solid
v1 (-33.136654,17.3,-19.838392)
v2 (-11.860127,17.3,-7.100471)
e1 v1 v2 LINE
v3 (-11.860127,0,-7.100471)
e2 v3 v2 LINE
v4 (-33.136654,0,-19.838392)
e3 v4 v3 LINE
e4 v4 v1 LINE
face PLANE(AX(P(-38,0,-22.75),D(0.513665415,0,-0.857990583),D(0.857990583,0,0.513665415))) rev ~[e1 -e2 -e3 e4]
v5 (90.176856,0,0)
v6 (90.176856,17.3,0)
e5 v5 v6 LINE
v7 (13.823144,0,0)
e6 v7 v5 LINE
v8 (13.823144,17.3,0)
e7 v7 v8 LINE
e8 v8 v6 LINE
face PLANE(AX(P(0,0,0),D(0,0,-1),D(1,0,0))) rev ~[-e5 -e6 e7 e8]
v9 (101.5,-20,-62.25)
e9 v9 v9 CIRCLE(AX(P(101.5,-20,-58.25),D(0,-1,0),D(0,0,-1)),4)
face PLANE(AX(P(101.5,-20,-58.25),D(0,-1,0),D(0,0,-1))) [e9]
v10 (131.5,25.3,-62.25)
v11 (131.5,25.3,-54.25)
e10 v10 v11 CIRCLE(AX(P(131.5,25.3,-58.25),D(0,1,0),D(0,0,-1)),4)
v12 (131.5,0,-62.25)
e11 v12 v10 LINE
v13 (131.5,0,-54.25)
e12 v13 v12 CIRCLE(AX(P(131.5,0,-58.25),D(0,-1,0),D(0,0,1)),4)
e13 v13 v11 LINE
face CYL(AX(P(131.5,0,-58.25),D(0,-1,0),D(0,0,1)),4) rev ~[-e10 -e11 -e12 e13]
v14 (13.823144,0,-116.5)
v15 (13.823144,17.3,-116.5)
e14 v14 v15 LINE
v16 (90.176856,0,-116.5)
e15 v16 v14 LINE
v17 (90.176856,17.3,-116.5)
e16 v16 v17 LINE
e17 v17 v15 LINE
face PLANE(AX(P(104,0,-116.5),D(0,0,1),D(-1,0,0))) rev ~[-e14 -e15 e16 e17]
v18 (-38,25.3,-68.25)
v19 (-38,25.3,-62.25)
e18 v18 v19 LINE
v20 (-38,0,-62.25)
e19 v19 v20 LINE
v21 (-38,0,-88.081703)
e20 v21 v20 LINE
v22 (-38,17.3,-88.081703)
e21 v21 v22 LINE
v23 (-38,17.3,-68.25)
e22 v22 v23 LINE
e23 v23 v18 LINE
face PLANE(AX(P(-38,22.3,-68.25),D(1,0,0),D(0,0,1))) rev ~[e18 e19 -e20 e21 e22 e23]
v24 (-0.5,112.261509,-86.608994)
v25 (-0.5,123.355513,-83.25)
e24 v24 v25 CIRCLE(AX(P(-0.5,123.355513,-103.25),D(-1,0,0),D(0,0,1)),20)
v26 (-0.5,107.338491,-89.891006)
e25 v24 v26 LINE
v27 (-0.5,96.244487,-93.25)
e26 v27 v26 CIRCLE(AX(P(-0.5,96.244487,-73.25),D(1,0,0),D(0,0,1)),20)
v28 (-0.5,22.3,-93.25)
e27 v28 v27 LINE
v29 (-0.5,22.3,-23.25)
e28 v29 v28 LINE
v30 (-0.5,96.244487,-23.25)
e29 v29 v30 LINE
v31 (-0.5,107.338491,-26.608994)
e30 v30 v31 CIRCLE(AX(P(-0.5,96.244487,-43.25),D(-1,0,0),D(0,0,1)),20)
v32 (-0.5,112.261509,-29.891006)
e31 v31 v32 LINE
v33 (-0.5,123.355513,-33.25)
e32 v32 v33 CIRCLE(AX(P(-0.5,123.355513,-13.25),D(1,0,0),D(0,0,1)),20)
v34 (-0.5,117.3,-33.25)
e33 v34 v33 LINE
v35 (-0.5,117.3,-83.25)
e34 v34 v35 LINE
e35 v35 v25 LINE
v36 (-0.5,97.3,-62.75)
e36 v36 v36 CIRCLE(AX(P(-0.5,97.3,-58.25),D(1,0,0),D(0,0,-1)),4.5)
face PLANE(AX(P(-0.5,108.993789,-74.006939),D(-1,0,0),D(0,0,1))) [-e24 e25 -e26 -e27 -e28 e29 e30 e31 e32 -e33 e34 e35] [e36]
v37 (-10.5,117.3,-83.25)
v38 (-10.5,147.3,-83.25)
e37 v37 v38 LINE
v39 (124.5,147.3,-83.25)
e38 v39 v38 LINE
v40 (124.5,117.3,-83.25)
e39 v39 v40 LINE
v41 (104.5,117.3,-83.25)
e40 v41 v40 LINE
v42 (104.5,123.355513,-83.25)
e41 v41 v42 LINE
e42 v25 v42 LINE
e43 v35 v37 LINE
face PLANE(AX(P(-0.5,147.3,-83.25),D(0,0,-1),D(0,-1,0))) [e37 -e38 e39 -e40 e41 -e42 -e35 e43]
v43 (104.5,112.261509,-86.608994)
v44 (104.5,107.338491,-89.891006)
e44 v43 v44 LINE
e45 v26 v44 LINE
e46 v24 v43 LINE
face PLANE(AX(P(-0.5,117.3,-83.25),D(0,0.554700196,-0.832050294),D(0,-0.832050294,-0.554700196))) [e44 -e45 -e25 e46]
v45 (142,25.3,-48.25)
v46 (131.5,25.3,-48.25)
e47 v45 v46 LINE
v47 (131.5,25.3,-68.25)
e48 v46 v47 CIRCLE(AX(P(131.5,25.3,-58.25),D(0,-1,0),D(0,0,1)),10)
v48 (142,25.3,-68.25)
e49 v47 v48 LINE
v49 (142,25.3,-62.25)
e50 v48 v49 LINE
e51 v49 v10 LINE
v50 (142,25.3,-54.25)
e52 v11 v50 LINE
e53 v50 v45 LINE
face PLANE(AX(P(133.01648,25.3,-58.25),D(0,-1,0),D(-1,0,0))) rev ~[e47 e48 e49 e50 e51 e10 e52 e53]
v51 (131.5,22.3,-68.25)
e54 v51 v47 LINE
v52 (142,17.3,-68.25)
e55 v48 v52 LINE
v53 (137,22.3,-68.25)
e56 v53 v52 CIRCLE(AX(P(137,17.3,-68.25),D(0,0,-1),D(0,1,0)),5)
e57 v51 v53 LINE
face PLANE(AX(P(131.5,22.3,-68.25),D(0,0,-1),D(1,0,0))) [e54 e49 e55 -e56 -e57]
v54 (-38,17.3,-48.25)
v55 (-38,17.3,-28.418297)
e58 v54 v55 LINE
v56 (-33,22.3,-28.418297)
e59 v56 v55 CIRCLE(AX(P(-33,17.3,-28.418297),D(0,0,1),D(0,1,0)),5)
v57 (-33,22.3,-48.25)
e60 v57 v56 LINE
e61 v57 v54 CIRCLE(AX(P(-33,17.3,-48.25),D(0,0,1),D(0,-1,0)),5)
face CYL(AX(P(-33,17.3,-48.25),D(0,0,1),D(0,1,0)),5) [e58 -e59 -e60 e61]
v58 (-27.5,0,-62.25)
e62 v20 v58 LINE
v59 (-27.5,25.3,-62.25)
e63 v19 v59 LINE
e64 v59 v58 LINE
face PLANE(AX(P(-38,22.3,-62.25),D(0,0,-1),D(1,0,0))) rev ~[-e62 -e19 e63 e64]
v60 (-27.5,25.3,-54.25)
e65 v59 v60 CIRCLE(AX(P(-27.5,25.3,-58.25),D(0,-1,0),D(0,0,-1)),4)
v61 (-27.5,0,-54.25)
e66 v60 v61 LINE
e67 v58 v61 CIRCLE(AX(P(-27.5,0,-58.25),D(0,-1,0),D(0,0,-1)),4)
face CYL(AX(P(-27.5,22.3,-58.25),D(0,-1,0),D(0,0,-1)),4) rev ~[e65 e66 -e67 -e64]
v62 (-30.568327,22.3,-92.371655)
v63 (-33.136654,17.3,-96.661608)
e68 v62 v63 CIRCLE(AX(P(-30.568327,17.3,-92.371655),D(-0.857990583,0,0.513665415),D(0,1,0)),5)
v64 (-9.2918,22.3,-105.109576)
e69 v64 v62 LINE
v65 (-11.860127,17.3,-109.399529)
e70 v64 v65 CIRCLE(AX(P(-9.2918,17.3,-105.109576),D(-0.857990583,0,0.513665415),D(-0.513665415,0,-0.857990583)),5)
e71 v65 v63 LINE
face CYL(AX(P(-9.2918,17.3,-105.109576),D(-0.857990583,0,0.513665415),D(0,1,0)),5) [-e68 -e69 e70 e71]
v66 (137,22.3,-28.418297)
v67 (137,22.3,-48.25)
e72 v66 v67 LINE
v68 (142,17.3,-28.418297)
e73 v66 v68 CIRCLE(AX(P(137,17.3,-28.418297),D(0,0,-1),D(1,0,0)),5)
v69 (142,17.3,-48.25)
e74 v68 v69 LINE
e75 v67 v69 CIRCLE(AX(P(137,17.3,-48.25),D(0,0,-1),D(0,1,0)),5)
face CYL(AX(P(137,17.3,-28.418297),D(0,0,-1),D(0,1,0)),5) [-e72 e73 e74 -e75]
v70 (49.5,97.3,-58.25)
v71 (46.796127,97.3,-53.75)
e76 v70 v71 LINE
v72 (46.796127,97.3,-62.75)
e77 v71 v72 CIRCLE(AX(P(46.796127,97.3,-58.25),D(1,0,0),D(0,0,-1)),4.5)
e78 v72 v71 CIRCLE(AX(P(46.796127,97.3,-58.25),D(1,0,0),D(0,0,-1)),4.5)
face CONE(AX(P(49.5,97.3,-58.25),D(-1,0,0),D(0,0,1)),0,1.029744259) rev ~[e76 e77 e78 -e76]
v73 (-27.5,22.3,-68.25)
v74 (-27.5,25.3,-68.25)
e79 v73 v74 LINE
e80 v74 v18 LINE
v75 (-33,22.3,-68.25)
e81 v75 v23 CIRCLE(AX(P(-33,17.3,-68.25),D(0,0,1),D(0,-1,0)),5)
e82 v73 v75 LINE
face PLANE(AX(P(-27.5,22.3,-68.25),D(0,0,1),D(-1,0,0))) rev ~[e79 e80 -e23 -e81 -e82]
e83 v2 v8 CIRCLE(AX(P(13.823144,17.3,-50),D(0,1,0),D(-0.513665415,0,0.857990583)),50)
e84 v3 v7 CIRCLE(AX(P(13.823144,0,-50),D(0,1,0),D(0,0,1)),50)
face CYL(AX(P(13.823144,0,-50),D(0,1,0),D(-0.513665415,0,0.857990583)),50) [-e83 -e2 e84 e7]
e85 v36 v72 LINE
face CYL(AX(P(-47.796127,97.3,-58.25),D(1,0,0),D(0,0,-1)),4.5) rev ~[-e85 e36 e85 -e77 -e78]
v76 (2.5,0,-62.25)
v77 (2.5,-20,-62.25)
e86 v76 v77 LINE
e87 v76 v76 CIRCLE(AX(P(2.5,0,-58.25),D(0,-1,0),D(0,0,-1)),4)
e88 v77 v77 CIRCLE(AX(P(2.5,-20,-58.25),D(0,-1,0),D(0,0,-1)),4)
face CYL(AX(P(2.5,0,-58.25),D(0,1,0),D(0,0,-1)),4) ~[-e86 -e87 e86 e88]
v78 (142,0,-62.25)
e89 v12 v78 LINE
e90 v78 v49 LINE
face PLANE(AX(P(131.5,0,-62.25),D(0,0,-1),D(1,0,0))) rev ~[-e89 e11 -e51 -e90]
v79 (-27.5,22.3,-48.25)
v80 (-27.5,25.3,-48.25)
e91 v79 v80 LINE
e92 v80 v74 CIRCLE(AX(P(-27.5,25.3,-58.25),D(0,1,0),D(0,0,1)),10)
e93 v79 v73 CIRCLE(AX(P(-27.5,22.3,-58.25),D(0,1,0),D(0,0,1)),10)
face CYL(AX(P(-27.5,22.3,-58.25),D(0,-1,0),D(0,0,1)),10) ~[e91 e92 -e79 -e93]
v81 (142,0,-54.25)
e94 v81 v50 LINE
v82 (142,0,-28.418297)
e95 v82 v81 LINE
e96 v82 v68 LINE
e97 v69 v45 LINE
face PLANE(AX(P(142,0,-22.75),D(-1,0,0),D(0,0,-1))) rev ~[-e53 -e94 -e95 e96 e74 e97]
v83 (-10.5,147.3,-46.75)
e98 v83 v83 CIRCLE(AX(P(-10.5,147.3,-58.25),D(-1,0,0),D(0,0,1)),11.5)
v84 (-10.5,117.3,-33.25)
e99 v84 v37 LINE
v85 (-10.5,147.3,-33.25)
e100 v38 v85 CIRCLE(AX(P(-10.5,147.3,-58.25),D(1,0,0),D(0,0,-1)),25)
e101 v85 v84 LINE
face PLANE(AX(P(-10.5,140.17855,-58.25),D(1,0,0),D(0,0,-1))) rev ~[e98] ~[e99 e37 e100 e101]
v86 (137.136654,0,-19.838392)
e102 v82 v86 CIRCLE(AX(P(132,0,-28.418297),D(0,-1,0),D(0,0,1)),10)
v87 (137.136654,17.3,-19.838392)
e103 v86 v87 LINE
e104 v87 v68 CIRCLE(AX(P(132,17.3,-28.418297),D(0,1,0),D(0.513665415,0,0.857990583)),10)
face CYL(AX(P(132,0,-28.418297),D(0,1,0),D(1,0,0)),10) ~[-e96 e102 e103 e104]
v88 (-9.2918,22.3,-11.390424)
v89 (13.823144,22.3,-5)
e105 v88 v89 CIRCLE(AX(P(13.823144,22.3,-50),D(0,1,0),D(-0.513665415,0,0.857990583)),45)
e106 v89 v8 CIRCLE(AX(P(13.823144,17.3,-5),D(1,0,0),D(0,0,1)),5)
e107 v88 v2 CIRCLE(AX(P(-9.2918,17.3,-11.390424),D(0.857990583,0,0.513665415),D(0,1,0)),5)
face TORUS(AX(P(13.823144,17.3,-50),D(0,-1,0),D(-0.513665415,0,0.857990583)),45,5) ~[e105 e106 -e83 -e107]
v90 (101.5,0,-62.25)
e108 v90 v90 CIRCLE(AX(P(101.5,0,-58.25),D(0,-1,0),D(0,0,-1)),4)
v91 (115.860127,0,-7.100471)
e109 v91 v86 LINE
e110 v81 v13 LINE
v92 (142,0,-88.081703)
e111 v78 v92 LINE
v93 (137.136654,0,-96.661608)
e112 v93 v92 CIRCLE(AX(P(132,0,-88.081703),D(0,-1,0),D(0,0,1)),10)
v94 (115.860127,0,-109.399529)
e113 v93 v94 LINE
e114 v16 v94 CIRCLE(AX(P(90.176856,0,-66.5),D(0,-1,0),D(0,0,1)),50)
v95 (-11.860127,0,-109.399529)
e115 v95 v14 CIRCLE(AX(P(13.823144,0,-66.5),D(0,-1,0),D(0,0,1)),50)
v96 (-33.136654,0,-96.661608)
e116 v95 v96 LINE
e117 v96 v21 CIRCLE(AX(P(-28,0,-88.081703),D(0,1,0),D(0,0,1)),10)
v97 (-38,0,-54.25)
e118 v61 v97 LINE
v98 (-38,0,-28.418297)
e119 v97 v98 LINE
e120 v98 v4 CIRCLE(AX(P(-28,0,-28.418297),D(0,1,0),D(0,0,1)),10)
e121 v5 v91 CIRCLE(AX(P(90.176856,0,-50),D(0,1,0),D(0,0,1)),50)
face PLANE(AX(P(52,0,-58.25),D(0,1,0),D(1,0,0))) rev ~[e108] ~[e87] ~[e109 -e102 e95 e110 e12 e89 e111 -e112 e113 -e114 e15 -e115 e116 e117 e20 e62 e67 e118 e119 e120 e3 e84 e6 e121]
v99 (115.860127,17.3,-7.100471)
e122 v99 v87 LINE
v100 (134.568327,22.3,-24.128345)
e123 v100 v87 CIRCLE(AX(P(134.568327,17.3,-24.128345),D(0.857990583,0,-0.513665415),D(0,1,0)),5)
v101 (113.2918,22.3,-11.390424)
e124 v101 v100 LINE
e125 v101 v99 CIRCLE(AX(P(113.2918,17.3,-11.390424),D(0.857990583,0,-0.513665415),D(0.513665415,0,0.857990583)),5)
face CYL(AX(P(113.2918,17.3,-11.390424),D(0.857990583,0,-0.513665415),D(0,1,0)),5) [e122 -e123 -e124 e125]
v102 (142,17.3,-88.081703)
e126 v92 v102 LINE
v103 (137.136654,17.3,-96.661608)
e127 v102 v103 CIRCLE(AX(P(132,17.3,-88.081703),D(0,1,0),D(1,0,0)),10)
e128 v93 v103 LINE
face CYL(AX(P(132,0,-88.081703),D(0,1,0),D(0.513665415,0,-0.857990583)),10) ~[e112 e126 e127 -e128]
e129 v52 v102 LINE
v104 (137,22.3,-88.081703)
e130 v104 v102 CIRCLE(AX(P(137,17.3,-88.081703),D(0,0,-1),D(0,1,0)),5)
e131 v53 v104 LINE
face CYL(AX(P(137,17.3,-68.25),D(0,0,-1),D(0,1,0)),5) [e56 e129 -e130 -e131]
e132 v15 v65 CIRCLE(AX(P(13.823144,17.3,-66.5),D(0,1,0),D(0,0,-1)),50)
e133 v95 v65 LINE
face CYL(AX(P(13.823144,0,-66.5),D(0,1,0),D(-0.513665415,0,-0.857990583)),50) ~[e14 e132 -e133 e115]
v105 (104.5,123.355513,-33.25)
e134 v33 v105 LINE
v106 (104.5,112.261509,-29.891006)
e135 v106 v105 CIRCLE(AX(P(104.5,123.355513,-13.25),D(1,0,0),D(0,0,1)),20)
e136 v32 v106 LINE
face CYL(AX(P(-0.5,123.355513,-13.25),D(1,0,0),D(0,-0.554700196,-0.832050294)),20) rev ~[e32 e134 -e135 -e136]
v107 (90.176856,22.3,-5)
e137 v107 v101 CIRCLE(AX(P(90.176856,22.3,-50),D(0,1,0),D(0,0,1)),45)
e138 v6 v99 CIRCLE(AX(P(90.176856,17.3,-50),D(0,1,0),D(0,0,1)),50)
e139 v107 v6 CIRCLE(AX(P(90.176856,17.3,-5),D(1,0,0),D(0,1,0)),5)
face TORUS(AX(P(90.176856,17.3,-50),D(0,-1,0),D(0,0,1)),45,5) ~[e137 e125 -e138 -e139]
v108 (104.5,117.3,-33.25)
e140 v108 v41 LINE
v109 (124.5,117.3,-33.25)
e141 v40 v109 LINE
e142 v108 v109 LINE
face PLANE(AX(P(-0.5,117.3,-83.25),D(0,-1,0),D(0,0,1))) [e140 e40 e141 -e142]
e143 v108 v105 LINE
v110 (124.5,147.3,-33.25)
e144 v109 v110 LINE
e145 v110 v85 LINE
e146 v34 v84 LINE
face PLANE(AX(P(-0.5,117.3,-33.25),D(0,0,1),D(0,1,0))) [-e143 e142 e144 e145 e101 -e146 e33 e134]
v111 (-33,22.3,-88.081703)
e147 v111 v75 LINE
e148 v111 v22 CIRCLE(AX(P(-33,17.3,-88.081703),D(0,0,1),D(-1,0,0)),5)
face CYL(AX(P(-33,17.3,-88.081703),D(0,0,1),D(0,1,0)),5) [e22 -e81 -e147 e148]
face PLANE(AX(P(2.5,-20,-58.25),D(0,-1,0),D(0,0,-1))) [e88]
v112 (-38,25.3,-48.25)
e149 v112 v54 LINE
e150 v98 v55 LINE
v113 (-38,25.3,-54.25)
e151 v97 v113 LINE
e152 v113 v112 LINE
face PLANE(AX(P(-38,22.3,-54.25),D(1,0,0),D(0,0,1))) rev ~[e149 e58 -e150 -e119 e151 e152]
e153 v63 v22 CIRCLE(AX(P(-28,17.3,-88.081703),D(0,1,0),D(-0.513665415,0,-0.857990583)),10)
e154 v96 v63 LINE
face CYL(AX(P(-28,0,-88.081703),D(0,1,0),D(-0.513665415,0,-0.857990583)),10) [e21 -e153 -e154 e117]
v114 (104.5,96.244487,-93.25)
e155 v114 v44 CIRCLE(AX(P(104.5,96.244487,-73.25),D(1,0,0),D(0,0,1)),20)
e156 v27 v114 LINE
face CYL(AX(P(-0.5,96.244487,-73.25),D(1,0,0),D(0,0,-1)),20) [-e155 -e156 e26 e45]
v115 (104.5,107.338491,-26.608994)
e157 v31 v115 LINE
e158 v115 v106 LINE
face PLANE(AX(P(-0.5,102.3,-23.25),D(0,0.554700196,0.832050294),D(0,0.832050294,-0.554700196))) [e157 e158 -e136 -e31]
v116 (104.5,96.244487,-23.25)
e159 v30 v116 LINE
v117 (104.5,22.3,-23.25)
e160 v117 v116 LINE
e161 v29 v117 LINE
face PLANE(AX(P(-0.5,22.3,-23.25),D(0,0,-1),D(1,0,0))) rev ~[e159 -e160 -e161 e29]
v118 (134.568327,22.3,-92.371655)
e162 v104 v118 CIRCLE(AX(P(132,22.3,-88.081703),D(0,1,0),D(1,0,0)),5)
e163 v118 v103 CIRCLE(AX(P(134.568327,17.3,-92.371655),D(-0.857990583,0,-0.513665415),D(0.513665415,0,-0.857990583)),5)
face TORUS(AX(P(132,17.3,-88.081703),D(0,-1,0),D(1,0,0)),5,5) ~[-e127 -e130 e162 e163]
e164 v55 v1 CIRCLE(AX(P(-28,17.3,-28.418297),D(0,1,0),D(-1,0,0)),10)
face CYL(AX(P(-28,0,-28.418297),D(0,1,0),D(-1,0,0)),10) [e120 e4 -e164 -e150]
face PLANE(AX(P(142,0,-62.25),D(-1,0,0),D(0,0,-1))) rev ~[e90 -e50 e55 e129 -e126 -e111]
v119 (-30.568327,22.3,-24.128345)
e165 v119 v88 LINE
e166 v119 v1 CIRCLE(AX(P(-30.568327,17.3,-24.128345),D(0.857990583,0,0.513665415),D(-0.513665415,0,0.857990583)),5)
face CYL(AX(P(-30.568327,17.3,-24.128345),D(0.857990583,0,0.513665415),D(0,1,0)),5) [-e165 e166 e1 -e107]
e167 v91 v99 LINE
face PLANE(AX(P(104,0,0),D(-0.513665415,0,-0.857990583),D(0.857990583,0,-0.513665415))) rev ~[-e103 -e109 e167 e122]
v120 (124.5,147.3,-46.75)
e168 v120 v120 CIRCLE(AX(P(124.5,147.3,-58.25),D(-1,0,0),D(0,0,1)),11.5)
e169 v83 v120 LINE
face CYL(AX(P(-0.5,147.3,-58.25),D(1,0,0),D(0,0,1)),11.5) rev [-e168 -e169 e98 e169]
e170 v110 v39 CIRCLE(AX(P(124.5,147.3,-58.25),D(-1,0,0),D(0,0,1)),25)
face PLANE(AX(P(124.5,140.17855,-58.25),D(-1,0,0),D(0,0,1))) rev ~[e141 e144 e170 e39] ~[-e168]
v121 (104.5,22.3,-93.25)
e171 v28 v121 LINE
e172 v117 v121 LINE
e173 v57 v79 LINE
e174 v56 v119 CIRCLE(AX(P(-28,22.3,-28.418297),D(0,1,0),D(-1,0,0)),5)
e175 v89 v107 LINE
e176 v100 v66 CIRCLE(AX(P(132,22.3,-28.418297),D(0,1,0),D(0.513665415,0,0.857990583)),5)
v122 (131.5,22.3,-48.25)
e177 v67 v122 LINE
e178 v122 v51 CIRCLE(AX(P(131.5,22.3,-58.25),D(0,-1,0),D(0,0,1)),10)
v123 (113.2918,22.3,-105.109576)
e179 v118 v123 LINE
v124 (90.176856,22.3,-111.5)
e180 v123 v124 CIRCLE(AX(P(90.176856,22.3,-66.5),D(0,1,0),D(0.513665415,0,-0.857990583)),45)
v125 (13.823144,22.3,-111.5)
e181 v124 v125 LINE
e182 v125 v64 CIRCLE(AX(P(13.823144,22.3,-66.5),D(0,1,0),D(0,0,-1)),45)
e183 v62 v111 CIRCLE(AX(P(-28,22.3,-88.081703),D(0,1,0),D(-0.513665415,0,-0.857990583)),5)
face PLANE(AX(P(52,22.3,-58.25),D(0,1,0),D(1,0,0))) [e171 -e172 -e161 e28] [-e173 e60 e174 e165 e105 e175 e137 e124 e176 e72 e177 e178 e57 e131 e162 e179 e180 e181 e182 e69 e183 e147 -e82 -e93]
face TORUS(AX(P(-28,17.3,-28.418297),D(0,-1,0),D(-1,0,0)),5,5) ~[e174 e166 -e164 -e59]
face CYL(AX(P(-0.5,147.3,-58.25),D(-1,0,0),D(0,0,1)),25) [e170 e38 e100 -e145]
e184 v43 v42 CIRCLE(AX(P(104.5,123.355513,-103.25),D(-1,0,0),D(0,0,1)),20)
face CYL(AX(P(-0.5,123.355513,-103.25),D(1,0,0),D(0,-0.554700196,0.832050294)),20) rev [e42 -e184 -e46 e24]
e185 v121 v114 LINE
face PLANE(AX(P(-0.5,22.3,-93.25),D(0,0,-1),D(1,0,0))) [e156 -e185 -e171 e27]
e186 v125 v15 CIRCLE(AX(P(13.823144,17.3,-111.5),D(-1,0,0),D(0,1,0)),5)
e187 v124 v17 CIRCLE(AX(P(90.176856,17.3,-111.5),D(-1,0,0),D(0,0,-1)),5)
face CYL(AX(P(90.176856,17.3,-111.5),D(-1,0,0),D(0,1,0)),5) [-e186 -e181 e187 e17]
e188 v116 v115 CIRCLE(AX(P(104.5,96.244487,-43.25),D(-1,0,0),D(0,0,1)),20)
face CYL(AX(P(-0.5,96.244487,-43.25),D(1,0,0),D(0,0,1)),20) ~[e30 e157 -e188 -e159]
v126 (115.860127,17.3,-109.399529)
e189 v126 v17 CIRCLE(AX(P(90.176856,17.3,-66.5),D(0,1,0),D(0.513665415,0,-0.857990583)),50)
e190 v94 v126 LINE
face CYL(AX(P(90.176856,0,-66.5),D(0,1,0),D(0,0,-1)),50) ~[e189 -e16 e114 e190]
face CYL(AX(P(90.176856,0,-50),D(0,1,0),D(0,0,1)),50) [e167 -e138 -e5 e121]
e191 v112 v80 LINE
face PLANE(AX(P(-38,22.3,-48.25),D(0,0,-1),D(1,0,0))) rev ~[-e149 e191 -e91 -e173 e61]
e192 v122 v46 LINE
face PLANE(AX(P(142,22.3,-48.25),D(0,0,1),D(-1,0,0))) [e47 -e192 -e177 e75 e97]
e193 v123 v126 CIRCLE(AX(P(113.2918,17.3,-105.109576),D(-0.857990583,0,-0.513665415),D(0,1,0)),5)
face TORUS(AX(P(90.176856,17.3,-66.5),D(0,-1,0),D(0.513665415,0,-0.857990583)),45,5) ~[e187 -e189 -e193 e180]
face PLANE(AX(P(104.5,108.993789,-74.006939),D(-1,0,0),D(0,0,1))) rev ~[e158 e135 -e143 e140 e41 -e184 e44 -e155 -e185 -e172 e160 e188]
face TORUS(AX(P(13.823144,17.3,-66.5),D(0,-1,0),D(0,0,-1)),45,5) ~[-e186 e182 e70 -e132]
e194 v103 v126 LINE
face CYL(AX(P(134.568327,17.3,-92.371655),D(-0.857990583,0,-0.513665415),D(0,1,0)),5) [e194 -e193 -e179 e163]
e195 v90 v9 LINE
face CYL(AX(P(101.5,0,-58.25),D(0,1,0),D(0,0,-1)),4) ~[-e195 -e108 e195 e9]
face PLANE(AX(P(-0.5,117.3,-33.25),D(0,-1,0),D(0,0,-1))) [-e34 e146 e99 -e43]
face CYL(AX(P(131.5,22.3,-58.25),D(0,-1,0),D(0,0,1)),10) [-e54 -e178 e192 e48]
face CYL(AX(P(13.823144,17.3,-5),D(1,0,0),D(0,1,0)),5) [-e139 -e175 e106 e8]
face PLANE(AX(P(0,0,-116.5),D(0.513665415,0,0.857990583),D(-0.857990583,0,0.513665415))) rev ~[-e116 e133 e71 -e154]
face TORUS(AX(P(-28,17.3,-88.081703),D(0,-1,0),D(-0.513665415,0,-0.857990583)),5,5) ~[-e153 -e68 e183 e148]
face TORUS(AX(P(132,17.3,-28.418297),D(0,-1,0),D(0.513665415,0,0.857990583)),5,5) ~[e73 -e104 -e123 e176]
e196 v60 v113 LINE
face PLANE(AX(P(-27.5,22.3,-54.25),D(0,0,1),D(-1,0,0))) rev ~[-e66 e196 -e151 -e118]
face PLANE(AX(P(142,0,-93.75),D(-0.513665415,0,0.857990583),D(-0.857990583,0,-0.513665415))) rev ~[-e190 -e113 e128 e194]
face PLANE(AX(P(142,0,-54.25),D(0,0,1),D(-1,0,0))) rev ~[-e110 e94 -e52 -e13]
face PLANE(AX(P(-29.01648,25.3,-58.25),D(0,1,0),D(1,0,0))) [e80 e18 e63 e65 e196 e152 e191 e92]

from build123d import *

# Parameters (mm, degrees)
BASE_DEPTH                    = 22.3
RESALTO_FUROS_DE_FIXA_O_DEPTH = 3
SKETCH4_W                     = 105
SKETCH4_H                     = 70
CORPO_RETANGULAR_DEPTH        = 80
CORPO_INCLINADO_DEPTH         = 105
SKETCH5_4_R                   = 11.5
CORPO_ARREDONDADO_BACK_DEPTH  = 10
SKETCH5_5_R                   = 11.5
CORPO_ARREDONDADO_FRONT_DEPTH = 125
SKETCH9_R                     = 4
PINOS_GUIA_DEPTH              = 20
RAIOS_50MM_R                  = 50
RAIOS_20MM_R                  = 20
RAIOS_10MM_R                  = 10
RAIOS_5MM_R                   = 5
FURO_M10X50_D                 = 9
FURO_M10X50_DEPTH             = 47.296127214
FURO_M10X50_TIP               = 2.703872786


with BuildPart() as part:
    # Sketch1 → Base (new body)
    with BuildSketch(Plane(origin=(0, 0, 0), x_dir=(1, 0, 0), z_dir=(0, 1, 0))):
        with BuildLine():
            Line((-27.5, 54.25), (-38, 54.25))
            Line((-38, 54.25), (-38, 22.75))
            Line((-38, 22.75), (0, 0))
            Line((0, 0), (104, 0))
            Line((104, 0), (142, 22.75))
            Line((142, 22.75), (142, 54.25))
            Line((142, 54.25), (131.5, 54.25))
            ThreePointArc((131.5, 54.25), (127.5, 58.25), (131.5, 62.25))
            Line((131.5, 62.25), (142, 62.25))
            Line((142, 62.25), (142, 93.75))
            Line((142, 93.75), (104, 116.5))
            Line((104, 116.5), (0, 116.5))
            Line((0, 116.5), (-38, 93.75))
            Line((-38, 93.75), (-38, 62.25))
            Line((-38, 62.25), (-27.5, 62.25))
            ThreePointArc((-27.5, 62.25), (-23.5, 58.25), (-27.5, 54.25))
        make_face()
    extrude(amount=BASE_DEPTH)

    # Sketch3 → Resalto - Furos de Fixação (add)
    with BuildSketch(Plane(origin=(0, 22.3, 0), x_dir=(1, 0, 0), z_dir=(0, 1, 0))):
        with BuildLine():
            Line((-27.5, 54.25), (-38, 54.25))
            Line((-38, 54.25), (-38, 48.25))
            Line((-38, 48.25), (-27.5, 48.25))
            ThreePointArc((-27.5, 48.25), (-17.5, 58.25), (-27.5, 68.25))
            Line((-27.5, 68.25), (-38, 68.25))
            Line((-38, 68.25), (-38, 62.25))
            Line((-38, 62.25), (-27.5, 62.25))
            ThreePointArc((-27.5, 62.25), (-23.5, 58.25), (-27.5, 54.25))
        make_face()
        with BuildLine():
            Line((142, 54.25), (142, 48.25))
            Line((142, 48.25), (131.5, 48.25))
            ThreePointArc((131.5, 48.25), (121.5, 58.25), (131.5, 68.25))
            Line((131.5, 68.25), (142, 68.25))
            Line((142, 68.25), (142, 62.25))
            Line((142, 62.25), (131.5, 62.25))
            ThreePointArc((131.5, 62.25), (127.5, 58.25), (131.5, 54.25))
            Line((131.5, 54.25), (142, 54.25))
        make_face()
    extrude(amount=RESALTO_FUROS_DE_FIXA_O_DEPTH)

    # Sketch4 → Corpo Retangular (add)
    with BuildSketch(Plane(origin=(0, 22.3, 0), x_dir=(1, 0, 0), z_dir=(0, 1, 0))):
        with Locations((52, 58.25)):
            Rectangle(SKETCH4_W, SKETCH4_H)
    extrude(amount=CORPO_RETANGULAR_DEPTH)

    # Sketch5 → Corpo Inclinado (add)
    with BuildSketch(Plane.ZY.offset(0.5)):
        Polygon((-33.25, 117.3), (-83.25, 117.3), (-93.25, 102.3), (-23.25, 102.3), align=None)
    extrude(amount=-CORPO_INCLINADO_DEPTH)



with BuildPart() as body_2:
    # Sketch5<4> → Corpo Arredondado - Back (new body)
    with BuildSketch(Plane.ZY.offset(0.5)):
        with BuildLine():
            Line((-33.25, 117.3), (-33.25, 147.3))
            ThreePointArc((-33.25, 147.3), (-58.25, 172.3), (-83.25, 147.3))
            Line((-83.25, 147.3), (-83.25, 117.3))
            Line((-83.25, 117.3), (-33.25, 117.3))
        make_face()
        with Locations((-58.25, 147.3)):
            Circle(SKETCH5_4_R, mode=Mode.SUBTRACT)
    extrude(amount=CORPO_ARREDONDADO_BACK_DEPTH)


with BuildPart() as part_1:
    add(part.part)

    add(body_2.part)  # Corpo Arredondado - Front merges body 2
    # Sketch5<5> → Corpo Arredondado - Front (add)
    with BuildSketch(Plane.ZY.offset(0.5)):
        with BuildLine():
            Line((-33.25, 117.3), (-33.25, 147.3))
            ThreePointArc((-33.25, 147.3), (-58.25, 172.3), (-83.25, 147.3))
            Line((-83.25, 147.3), (-83.25, 117.3))
            Line((-83.25, 117.3), (-33.25, 117.3))
        make_face()
        with Locations((-58.25, 147.3)):
            Circle(SKETCH5_5_R, mode=Mode.SUBTRACT)
    extrude(amount=-CORPO_ARREDONDADO_FRONT_DEPTH)

    # Sketch9 → Pinos Guia (add)
    with BuildSketch(Plane.XZ):
        with Locations((2.5, -58.25)):
            Circle(SKETCH9_R)
        with Locations((101.5, -58.25)):
            Circle(SKETCH9_R)
    extrude(amount=PINOS_GUIA_DEPTH)

    # Raios 50mm
    raios_50mm_edges = [part_1.edges().sort_by_distance(p)[0] for p in [
        (0, 11.15, -116.5),
        (104, 11.15, -116.5),
        (0, 11.15, 0),
        (104, 11.15, 0),
    ]]
    fillet(raios_50mm_edges, radius=RAIOS_50MM_R)

    # Raios 20mm
    raios_20mm_edges = [part_1.edges().sort_by_distance(p)[0] for p in [
        (52, 102.3, -93.25),
        (52, 117.3, -83.25),
        (52, 117.3, -33.25),
        (52, 102.3, -23.25),
    ]]
    fillet(raios_20mm_edges, radius=RAIOS_20MM_R)

    # Raios 10mm
    raios_10mm_edges = [part_1.edges().sort_by_distance(p)[0] for p in [
        (-38, 11.15, -93.75),
        (-38, 11.15, -22.75),
        (142, 11.15, -93.75),
        (142, 11.15, -22.75),
    ]]
    fillet(raios_10mm_edges, radius=RAIOS_10MM_R)

    # Raios 5mm
    raios_5mm_edges = [part_1.edges().sort_by_distance(p)[0] for p in [
        (142, 22.3, -78.165851268),
        (140.699613253, 22.3, -93.01290211),
        (126.498390623, 22.3, -103.030568772),
        (103.500210672, 22.3, -114.692200918),
        (-38, 22.3, -78.165851268),
        (-36.699613253, 22.3, -93.01290211),
        (-22.498390623, 22.3, -103.030568772),
        (0.499789328, 22.3, -114.692200918),
        (-38, 22.3, -38.334148732),
        (-36.699613253, 22.3, -23.48709789),
        (-22.498390623, 22.3, -13.469431228),
        (0.499789328, 22.3, -1.807799082),
        (142, 22.3, -38.334148732),
        (140.699613253, 22.3, -23.48709789),
        (126.498390623, 22.3, -13.469431228),
        (103.500210672, 22.3, -1.807799082),
        (52, 22.3, -116.5),
        (52, 22.3, 0),
    ]]
    fillet(raios_5mm_edges, radius=RAIOS_5MM_R)

    # Furo M10x50
    with Locations(Plane.ZY.offset(0.5)):
        with Locations((-58.25, 97.3)):
            Hole(FURO_M10X50_D / 2, depth=FURO_M10X50_DEPTH)
            with Locations((0, 0, -(FURO_M10X50_DEPTH + FURO_M10X50_TIP / 2))):  # 118° drill point
                Cone(0, FURO_M10X50_D / 2, FURO_M10X50_TIP, mode=Mode.SUBTRACT)


solid = part_1.part
